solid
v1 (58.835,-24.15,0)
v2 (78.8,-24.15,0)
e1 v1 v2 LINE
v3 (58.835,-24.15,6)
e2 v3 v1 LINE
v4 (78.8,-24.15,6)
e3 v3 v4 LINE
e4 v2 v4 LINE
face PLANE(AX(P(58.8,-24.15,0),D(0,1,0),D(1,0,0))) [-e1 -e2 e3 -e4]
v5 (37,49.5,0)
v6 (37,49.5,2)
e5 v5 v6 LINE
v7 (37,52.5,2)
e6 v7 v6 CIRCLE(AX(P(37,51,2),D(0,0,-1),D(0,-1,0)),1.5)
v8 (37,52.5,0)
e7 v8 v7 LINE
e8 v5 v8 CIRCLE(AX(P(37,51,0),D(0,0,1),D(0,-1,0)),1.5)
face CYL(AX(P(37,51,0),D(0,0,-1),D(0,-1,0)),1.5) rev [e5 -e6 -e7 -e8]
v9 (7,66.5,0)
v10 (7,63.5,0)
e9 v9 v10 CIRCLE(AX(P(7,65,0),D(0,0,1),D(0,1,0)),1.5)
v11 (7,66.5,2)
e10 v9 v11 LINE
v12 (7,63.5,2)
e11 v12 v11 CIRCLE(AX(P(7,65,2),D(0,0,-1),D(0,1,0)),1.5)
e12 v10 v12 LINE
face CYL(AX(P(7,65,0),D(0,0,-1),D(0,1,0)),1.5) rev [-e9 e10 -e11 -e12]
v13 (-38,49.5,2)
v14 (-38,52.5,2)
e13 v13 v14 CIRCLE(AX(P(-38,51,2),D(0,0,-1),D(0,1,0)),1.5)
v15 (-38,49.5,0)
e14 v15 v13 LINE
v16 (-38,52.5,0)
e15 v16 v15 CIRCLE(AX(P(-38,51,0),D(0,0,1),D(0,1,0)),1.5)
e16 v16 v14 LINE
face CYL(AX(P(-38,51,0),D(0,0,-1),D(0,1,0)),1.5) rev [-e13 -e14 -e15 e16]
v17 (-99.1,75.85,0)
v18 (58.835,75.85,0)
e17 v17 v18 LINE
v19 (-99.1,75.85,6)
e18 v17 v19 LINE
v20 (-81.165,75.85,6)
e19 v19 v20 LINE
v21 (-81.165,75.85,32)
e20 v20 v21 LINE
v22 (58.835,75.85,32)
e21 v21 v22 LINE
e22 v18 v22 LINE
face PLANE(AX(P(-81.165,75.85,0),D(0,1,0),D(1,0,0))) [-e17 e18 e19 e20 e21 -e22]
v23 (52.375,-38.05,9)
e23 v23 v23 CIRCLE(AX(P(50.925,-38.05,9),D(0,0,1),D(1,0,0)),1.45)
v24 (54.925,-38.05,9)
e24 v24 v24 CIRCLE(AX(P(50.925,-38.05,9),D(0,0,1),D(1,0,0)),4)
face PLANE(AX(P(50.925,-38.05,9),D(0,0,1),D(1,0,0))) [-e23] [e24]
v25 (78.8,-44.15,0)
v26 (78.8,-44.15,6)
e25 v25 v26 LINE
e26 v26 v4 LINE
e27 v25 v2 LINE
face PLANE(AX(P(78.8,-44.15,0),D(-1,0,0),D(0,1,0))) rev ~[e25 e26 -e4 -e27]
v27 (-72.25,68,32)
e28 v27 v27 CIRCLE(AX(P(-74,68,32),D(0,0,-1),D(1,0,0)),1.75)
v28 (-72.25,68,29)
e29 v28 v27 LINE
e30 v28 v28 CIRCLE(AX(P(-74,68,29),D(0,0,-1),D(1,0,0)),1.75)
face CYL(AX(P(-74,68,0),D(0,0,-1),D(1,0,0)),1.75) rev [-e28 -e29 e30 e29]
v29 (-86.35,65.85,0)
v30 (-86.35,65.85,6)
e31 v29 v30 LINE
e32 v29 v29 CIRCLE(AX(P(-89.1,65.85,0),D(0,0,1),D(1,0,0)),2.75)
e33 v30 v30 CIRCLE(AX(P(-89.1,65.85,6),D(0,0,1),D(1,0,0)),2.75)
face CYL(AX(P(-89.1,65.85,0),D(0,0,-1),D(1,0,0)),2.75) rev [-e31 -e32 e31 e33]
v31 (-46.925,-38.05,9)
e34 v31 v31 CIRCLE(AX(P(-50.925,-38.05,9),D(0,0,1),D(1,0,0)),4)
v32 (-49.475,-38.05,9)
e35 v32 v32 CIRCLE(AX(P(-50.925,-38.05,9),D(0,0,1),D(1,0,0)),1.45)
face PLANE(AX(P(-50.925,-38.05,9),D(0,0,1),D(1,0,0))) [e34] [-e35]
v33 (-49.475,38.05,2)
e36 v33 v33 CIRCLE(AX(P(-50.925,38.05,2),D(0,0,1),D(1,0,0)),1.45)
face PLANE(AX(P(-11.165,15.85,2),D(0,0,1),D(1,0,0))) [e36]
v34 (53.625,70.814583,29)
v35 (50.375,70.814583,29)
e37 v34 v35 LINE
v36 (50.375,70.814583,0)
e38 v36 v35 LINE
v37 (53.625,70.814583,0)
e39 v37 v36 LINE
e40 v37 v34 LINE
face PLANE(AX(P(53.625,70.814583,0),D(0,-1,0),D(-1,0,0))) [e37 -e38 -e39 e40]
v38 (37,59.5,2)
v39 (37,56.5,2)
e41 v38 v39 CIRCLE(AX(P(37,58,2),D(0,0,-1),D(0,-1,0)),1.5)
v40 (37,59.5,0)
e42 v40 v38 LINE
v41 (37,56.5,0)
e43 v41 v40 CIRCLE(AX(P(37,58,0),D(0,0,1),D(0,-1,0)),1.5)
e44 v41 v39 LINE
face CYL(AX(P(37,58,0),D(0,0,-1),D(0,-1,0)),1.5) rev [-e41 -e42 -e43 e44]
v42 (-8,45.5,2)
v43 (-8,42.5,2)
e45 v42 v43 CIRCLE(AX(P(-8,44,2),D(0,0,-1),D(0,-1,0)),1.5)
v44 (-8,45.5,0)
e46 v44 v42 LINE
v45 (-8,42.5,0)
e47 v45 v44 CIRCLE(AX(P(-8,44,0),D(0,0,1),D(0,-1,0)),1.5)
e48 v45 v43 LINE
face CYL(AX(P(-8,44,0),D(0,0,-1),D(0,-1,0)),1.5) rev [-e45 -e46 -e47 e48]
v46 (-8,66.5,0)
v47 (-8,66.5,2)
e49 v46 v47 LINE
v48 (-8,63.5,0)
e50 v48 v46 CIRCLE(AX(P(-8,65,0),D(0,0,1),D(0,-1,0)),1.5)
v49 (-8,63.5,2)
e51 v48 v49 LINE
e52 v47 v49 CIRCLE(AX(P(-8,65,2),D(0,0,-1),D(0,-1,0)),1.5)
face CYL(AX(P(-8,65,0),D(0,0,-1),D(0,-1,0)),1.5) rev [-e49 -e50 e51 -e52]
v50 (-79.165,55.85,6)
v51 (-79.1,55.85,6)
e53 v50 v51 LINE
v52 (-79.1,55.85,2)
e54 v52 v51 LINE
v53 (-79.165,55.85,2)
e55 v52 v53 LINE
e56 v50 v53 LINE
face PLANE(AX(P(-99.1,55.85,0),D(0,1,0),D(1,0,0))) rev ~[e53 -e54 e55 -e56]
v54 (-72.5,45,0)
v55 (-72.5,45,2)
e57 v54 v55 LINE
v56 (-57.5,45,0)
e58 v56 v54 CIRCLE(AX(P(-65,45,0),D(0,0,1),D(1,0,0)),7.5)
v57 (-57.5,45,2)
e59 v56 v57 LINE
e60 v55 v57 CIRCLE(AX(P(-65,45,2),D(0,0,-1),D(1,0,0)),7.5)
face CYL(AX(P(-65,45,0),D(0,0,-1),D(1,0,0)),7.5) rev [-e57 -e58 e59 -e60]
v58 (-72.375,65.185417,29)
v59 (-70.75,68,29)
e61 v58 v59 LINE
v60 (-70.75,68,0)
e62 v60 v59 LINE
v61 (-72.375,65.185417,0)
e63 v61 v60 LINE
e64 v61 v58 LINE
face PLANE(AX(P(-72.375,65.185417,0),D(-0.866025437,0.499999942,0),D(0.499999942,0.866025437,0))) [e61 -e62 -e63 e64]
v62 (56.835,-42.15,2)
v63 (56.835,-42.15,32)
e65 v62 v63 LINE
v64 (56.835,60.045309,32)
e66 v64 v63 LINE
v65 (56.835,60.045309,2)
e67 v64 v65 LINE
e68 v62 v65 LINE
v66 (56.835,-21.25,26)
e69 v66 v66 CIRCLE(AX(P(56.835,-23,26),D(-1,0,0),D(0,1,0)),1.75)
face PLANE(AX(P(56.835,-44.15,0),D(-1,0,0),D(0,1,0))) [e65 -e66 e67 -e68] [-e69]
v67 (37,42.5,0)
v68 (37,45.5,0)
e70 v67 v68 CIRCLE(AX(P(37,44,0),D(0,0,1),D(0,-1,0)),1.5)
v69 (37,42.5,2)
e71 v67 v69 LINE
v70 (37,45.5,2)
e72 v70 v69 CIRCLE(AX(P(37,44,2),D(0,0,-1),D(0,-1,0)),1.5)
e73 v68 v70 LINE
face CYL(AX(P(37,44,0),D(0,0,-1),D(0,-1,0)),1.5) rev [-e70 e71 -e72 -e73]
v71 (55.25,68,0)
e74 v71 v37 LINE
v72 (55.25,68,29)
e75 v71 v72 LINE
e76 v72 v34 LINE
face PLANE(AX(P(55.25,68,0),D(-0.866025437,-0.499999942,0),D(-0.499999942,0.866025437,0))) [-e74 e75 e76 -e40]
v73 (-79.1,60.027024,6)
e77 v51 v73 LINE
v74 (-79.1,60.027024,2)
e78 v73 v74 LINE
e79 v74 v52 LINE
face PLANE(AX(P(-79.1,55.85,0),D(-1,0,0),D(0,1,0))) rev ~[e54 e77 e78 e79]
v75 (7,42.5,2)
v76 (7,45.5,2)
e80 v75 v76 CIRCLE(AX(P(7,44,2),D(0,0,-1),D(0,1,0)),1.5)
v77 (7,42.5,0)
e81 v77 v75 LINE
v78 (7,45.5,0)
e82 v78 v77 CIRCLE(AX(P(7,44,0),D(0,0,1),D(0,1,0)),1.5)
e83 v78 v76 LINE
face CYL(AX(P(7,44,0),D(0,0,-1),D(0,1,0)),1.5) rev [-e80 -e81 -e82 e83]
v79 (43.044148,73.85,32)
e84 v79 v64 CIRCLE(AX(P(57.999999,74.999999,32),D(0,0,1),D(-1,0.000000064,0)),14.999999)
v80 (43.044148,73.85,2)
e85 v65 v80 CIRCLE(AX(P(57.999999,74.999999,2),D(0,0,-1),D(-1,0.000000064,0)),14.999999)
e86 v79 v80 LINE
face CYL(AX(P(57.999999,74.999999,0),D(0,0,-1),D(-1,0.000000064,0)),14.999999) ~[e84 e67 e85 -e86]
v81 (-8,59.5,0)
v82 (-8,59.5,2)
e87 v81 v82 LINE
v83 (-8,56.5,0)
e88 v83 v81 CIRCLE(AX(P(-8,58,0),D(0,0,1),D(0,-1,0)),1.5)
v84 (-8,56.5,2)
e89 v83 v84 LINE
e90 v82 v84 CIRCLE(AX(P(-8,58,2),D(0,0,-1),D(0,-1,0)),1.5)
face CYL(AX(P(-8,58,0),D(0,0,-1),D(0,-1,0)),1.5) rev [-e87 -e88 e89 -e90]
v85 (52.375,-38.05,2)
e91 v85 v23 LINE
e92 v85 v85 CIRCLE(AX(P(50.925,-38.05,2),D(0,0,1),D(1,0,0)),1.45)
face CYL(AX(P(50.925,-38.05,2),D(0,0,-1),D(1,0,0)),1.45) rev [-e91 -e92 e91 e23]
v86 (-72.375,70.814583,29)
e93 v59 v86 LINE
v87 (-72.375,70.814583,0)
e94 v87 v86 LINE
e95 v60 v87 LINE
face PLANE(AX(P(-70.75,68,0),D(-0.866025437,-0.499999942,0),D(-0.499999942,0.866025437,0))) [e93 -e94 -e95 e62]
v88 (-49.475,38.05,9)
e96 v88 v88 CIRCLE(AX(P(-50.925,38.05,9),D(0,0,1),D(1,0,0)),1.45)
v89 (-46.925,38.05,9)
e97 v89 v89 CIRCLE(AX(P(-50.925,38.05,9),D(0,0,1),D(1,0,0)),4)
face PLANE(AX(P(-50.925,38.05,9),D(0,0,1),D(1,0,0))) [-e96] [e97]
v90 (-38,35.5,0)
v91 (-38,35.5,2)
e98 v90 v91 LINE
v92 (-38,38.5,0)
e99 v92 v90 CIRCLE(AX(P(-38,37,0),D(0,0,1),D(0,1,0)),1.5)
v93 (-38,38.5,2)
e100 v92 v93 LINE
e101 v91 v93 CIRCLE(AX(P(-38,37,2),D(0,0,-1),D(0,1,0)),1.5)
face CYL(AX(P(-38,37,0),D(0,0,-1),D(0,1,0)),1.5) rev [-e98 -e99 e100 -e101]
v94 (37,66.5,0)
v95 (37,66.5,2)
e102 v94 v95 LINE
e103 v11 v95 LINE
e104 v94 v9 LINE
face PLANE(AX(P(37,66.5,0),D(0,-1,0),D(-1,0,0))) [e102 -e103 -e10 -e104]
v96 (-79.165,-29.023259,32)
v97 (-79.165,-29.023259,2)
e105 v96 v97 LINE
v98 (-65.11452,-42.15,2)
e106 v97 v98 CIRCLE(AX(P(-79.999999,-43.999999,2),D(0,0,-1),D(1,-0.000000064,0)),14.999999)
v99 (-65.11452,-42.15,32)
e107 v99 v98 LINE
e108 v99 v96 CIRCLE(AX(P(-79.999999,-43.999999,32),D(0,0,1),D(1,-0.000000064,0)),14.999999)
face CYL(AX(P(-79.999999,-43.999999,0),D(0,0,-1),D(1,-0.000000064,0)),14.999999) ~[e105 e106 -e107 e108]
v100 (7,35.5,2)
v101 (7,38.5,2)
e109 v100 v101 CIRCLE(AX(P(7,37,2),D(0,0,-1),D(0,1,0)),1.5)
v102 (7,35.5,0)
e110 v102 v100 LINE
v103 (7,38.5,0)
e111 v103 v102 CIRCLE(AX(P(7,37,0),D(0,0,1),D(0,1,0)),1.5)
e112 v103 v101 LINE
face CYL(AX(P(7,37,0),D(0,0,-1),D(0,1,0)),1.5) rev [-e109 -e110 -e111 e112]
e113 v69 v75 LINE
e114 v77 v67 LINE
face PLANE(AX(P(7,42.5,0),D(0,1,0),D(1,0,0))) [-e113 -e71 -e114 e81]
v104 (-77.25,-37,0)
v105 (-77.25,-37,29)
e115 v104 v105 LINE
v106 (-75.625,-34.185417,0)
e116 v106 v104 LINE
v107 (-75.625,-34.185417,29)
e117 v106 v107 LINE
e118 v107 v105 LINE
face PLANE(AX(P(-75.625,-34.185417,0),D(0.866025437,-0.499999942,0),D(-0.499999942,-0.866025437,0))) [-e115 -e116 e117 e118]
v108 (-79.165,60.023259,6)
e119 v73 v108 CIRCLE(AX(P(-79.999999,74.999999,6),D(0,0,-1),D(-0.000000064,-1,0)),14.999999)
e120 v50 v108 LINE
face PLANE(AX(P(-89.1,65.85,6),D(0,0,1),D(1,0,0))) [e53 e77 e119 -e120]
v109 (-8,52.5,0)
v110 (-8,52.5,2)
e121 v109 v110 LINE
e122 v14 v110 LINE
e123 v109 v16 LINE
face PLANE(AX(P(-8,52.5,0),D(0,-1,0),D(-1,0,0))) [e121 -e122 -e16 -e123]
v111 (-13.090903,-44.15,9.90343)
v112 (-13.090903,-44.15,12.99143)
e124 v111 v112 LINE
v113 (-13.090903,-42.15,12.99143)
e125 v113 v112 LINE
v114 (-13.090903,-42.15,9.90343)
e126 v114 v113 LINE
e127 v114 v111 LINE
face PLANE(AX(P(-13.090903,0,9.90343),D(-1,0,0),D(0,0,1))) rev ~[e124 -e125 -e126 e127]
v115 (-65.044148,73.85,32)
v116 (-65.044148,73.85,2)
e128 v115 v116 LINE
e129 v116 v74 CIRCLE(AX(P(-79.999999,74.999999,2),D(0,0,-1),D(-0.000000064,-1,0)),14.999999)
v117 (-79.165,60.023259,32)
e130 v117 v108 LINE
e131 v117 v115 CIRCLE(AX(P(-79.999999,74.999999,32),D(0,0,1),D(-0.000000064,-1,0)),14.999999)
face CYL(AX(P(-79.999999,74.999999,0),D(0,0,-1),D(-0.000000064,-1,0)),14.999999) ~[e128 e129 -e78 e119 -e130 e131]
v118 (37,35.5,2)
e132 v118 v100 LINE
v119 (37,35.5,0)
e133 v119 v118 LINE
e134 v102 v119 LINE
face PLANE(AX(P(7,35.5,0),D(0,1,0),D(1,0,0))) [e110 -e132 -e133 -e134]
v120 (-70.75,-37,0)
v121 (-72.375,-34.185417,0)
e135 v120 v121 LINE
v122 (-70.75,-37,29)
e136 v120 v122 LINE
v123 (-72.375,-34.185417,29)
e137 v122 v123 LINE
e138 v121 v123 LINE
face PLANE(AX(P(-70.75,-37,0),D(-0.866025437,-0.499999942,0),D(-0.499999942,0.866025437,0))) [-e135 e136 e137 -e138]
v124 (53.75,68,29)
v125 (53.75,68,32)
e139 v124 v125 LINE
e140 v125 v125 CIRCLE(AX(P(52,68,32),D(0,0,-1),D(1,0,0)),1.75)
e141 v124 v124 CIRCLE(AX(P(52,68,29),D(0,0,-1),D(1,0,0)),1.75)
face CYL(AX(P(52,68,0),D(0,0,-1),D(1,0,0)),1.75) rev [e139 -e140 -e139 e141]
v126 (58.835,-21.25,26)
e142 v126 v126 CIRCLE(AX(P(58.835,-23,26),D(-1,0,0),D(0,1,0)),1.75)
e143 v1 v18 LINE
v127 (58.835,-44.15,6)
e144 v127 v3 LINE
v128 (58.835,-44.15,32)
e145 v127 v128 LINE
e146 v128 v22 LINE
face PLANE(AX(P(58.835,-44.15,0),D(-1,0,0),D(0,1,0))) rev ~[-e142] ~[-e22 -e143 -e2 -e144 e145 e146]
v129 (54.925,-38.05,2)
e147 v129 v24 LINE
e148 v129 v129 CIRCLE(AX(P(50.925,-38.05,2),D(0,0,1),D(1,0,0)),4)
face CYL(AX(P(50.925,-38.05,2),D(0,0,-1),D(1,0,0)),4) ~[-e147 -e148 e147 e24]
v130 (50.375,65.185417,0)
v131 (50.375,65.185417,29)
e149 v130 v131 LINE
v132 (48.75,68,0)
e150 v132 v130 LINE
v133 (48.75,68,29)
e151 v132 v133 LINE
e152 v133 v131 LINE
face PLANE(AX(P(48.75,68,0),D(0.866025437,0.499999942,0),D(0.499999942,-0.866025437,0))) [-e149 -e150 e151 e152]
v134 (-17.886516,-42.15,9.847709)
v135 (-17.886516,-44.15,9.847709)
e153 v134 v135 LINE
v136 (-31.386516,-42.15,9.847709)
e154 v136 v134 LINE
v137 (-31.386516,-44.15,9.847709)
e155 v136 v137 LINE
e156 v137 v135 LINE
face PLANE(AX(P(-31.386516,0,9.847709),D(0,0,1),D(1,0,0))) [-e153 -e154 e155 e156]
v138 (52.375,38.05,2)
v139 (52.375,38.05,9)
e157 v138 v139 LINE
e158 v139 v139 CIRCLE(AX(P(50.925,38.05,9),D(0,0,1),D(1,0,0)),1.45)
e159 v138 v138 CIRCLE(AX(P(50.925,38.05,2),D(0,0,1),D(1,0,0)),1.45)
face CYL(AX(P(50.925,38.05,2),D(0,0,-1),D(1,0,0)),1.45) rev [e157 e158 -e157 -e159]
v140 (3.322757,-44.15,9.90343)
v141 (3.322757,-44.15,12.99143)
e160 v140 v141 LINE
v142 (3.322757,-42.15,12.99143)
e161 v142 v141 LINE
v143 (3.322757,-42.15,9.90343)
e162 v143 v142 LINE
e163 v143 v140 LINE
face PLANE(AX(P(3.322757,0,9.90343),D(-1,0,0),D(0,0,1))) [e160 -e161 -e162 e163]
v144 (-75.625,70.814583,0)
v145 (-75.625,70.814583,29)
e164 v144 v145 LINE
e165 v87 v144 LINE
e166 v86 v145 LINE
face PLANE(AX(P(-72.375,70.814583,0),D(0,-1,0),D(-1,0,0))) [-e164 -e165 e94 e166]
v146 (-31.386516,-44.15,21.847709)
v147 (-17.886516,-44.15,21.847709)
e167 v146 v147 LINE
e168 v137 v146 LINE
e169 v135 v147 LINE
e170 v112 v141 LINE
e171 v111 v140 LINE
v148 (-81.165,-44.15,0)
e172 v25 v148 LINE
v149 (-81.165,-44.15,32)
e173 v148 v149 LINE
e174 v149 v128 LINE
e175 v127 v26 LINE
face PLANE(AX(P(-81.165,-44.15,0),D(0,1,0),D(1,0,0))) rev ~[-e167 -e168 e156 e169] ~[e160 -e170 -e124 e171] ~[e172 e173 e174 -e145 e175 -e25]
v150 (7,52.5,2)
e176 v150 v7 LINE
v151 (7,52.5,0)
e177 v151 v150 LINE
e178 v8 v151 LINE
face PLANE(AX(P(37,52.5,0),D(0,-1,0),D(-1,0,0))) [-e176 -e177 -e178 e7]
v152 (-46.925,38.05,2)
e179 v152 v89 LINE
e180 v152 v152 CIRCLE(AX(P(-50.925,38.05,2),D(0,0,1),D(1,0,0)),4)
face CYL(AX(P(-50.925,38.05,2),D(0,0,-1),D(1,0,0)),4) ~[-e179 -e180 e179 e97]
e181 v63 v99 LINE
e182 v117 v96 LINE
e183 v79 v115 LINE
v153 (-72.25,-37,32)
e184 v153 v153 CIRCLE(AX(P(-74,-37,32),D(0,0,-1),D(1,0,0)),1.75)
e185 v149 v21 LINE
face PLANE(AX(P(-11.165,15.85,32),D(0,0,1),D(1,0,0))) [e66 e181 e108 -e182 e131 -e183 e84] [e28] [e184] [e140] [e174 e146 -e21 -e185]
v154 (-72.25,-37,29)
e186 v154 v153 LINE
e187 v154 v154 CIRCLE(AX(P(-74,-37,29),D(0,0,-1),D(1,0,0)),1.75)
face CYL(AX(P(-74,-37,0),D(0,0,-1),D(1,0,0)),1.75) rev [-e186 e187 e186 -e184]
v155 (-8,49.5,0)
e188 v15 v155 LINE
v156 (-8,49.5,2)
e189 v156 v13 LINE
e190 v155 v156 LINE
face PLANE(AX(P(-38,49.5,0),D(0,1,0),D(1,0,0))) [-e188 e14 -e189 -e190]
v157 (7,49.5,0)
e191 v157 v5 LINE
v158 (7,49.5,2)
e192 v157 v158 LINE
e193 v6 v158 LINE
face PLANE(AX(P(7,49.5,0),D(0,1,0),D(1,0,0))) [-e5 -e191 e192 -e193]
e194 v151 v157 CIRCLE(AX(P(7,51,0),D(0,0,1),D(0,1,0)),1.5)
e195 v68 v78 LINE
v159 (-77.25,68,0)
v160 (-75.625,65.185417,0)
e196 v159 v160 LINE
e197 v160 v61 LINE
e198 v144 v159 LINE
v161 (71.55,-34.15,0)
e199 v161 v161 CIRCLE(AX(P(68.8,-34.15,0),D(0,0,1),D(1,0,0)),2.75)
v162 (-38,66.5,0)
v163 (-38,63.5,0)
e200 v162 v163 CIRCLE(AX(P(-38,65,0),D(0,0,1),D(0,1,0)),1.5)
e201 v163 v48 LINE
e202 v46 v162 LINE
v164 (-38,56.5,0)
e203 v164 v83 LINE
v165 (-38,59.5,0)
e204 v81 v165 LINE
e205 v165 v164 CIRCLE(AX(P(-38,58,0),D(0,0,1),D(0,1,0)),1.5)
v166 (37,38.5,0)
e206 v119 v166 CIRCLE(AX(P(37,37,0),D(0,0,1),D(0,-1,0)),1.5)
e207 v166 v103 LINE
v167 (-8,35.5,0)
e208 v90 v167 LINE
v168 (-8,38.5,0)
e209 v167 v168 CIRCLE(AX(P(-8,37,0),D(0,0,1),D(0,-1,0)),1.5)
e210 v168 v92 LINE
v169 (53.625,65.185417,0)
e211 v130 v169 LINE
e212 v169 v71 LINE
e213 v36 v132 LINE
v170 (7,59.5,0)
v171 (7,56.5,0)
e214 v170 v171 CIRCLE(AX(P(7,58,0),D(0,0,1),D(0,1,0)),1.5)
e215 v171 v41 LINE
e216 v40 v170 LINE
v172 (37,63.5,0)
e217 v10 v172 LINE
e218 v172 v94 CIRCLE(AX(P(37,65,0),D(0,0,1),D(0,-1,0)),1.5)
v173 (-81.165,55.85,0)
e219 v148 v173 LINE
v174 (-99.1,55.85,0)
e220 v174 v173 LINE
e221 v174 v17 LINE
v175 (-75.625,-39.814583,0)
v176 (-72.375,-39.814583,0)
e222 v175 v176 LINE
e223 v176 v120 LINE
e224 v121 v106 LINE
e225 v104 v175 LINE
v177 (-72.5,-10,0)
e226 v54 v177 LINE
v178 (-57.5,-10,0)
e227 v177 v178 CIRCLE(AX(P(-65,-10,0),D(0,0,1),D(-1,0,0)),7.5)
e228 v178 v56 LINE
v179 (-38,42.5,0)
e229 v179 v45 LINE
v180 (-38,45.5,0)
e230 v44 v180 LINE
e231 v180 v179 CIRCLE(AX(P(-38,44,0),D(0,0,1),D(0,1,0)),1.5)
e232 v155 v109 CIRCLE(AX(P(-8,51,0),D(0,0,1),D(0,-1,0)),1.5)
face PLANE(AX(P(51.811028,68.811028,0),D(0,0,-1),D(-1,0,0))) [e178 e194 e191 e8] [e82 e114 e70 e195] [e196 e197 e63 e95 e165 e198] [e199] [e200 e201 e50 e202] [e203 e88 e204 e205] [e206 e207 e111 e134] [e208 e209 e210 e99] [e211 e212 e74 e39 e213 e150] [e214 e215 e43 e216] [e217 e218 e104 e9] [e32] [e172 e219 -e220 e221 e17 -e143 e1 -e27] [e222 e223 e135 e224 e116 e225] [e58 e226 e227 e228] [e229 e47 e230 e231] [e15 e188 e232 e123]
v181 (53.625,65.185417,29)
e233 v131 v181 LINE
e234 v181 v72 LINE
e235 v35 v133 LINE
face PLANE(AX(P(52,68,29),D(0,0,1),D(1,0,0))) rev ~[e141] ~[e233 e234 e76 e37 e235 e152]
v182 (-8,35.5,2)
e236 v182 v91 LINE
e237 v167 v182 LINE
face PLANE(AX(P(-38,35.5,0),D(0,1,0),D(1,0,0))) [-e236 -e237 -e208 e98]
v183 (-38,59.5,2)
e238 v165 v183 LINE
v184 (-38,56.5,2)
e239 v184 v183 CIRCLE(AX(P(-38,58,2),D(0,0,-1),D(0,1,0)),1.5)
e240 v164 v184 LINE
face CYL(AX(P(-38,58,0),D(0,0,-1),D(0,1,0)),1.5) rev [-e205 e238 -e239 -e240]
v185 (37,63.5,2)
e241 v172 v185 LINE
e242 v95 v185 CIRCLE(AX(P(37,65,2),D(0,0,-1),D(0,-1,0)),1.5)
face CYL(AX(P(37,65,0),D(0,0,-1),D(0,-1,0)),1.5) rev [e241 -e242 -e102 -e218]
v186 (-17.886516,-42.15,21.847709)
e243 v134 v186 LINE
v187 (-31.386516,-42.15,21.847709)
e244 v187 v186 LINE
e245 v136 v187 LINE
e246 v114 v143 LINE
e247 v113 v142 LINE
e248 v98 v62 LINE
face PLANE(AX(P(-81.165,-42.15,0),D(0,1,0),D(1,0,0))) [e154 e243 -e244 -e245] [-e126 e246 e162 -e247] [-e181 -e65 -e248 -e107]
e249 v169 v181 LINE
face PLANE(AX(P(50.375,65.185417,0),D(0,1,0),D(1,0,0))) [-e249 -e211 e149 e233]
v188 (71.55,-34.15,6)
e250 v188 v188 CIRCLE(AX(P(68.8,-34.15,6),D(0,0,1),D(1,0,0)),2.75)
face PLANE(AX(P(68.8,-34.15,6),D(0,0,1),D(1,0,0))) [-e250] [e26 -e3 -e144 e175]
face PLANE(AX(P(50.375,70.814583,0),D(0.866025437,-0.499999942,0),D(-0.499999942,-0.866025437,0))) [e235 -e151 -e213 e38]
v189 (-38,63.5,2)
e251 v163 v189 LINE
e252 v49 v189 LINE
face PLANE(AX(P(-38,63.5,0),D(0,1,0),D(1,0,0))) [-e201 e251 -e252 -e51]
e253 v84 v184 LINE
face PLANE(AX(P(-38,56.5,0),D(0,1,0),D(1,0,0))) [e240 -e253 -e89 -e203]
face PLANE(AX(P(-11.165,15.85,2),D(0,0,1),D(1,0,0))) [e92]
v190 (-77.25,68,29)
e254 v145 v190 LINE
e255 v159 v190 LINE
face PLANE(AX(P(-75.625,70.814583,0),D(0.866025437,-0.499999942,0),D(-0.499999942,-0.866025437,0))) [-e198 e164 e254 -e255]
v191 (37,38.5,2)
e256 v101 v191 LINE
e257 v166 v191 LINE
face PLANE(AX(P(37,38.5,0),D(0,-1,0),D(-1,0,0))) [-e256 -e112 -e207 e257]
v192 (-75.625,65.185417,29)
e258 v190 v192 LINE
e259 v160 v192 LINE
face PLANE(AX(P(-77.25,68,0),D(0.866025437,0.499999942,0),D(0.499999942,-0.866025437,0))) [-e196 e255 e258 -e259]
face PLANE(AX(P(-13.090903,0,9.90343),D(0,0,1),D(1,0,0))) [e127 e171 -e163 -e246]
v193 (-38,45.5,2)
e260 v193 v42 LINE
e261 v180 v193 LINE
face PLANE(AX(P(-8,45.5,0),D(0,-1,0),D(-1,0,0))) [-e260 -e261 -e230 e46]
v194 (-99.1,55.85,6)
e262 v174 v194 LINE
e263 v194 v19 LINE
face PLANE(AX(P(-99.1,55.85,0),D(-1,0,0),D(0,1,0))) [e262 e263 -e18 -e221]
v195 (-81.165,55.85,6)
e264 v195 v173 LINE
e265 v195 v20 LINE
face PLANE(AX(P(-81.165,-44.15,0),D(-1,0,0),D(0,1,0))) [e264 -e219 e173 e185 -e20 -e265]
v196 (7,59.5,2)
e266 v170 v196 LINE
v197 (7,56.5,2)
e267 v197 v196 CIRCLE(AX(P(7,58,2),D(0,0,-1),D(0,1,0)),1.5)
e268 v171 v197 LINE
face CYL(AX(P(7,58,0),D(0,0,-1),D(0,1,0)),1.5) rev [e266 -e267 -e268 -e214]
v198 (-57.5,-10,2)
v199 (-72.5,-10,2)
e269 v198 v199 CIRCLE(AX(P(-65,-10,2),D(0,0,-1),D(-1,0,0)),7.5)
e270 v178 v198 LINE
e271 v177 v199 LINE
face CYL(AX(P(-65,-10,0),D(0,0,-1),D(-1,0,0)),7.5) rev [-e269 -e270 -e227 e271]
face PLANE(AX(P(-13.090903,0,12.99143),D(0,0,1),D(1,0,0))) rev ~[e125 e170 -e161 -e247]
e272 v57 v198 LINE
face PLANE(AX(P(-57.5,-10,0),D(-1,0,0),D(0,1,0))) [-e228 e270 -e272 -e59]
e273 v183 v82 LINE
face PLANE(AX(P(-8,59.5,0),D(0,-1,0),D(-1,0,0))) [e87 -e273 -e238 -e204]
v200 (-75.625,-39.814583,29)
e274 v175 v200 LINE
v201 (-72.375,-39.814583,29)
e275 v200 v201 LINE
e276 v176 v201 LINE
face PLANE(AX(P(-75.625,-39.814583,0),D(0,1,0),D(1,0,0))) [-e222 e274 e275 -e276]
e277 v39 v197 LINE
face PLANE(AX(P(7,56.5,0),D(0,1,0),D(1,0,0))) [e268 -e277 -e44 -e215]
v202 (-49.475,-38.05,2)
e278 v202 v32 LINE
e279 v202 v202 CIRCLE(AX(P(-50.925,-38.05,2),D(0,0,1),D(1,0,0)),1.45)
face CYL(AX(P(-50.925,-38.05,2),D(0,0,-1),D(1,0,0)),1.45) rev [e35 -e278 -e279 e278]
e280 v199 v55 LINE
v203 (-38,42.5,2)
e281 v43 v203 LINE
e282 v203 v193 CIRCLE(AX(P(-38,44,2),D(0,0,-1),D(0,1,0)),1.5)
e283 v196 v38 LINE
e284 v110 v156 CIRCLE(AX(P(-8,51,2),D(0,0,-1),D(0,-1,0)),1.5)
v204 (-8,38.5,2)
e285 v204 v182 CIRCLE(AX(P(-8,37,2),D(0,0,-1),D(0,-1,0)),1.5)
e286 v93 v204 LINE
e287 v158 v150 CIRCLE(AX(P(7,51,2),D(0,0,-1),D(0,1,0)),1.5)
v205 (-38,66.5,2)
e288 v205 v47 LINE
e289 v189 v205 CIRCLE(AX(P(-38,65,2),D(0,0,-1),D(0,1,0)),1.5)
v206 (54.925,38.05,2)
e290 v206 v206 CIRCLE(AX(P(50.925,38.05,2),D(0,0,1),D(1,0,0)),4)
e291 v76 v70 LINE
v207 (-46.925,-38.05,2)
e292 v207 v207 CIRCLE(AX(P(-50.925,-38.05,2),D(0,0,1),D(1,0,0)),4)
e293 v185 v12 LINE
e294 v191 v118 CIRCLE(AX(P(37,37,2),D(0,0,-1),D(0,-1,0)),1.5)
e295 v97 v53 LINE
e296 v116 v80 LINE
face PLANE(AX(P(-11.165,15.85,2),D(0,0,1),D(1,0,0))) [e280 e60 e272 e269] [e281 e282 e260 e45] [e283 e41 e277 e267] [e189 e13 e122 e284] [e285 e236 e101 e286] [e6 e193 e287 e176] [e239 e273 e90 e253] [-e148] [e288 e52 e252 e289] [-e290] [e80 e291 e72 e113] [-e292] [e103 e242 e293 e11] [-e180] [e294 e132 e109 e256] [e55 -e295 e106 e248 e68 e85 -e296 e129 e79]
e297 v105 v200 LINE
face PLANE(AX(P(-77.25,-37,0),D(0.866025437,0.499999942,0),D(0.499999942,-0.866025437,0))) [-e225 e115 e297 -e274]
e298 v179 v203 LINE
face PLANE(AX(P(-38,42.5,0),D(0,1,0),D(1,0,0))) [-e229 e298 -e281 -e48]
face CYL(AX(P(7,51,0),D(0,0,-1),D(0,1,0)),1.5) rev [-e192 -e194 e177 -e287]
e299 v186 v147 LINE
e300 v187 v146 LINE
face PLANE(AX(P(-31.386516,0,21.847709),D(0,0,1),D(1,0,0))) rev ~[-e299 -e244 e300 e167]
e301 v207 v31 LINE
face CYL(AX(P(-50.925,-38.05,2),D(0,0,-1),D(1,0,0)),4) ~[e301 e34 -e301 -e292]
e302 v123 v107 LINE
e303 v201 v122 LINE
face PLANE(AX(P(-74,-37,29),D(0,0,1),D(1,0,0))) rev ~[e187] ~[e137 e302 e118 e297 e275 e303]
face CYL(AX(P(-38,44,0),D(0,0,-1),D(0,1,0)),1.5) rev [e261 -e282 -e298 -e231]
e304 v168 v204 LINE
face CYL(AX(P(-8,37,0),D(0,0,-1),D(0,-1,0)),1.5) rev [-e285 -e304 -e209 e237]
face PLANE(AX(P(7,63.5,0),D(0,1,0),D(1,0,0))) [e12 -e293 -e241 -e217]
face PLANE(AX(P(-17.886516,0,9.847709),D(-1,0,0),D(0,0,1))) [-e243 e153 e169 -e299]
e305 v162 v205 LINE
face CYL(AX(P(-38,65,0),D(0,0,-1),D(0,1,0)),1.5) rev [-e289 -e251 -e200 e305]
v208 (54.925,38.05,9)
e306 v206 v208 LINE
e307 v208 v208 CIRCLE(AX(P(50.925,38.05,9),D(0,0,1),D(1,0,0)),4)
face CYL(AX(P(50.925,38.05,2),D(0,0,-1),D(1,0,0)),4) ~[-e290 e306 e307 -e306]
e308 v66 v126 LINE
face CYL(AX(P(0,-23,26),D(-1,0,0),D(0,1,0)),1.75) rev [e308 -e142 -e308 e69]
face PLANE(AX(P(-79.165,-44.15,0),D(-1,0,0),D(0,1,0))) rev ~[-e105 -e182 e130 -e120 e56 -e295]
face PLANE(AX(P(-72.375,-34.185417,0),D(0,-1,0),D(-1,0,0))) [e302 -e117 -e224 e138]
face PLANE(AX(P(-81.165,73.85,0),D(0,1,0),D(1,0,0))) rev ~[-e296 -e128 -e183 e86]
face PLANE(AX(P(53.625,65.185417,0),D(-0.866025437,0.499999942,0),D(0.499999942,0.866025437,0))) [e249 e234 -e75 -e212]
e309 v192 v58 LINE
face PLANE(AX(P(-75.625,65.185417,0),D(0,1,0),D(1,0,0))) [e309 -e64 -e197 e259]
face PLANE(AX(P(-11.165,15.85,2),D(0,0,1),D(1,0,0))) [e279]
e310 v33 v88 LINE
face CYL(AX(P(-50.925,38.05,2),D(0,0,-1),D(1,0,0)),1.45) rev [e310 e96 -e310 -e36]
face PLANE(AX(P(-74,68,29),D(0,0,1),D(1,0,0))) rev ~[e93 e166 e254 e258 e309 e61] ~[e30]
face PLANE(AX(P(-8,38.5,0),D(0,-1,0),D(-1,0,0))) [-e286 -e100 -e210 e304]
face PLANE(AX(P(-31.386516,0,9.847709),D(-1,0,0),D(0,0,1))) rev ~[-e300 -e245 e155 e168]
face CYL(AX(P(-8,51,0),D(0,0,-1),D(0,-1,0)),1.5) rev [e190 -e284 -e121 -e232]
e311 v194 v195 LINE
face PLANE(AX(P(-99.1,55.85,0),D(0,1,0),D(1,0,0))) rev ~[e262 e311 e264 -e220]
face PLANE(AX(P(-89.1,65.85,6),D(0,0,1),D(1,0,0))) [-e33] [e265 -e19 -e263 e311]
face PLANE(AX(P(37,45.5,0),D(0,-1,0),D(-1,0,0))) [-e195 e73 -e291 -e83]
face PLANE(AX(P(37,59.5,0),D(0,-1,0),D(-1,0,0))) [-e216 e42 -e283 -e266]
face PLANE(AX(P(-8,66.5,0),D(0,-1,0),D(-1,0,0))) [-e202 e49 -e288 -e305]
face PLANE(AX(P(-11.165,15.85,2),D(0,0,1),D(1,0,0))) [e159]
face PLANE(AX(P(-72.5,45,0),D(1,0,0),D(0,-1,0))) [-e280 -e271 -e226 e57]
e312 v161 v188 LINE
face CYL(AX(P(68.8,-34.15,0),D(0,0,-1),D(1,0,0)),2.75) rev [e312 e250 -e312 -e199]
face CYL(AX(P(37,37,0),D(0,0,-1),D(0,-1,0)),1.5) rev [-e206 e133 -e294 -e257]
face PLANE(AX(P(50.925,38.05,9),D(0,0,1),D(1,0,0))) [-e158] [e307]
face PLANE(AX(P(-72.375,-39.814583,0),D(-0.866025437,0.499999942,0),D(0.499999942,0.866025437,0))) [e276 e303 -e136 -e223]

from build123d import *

# Parameters (mm, degrees)
SKETCH_W        = 140
SKETCH_H        = 120
PAD_DEPTH       = 32
THICKNESS_T     = -2
SKETCH001_R     = 4
SKETCH001_R_2   = 1.45
PAD001_DEPTH    = 7
SKETCH002_W     = 16.413659
SKETCH002_H     = 3.088
SKETCH002_W_2   = 13.5
SKETCH002_H_2   = 12
POCKET_DEPTH    = 44.151
PAD002_DEPTH    = 32
SKETCH004_R     = 1.75
POCKET001_DEPTH = 58.836
SKETCH005_R     = 1.75
POCKET002_DEPTH = 32.001001
SKETCH006_W     = 20
SKETCH006_H     = 20
SKETCH006_R     = 2.75
PAD003_DEPTH    = 6
POCKET003_DEPTH = 29
POCKET004_DEPTH = 32.001001


with BuildPart() as part:
    # Sketch → Pad (new body)
    with BuildSketch(Plane.XY):
        with Locations((-11.165, 15.85)):
            Rectangle(SKETCH_W, SKETCH_H)
    extrude(amount=PAD_DEPTH)

    # Thickness
    thickness_openings = [part.faces().sort_by_distance(p)[0] for p in [
        (-11.165, 15.85, 32),
    ]]
    offset(amount=THICKNESS_T, openings=thickness_openings, kind=Kind.INTERSECTION)

    # Sketch001 (on DatumPlane) → Pad001 (join)
    with BuildSketch(Plane.XY.offset(2)):
        with Locations((-50.925, 38.05)):
            Circle(SKETCH001_R)
        with Locations((-50.925, 38.05)):
            Circle(SKETCH001_R_2, mode=Mode.SUBTRACT)
        with Locations((50.925, 38.05)):
            Circle(SKETCH001_R)
        with Locations((50.925, 38.05)):
            Circle(SKETCH001_R_2, mode=Mode.SUBTRACT)
        with Locations((-50.925, -38.05)):
            Circle(SKETCH001_R)
        with Locations((-50.925, -38.05)):
            Circle(SKETCH001_R_2, mode=Mode.SUBTRACT)
        with Locations((50.925, -38.05)):
            Circle(SKETCH001_R)
        with Locations((50.925, -38.05)):
            Circle(SKETCH001_R_2, mode=Mode.SUBTRACT)
    extrude(amount=PAD001_DEPTH)

    # Sketch002 → Pocket (cut, through all)
    with BuildSketch(Plane.XZ):
        with Locations((-4.884073, 11.44743)):
            Rectangle(SKETCH002_W, SKETCH002_H)
        with Locations((-24.636516, 15.847709)):
            Rectangle(SKETCH002_W_2, SKETCH002_H_2)
    extrude(amount=POCKET_DEPTH, mode=Mode.SUBTRACT)

    # Sketch003 → Pad002 (join)
    with BuildSketch(Plane.XY):
        with BuildLine():
            Line((43, 75), (58, 75))
            Line((58, 75), (58, 60))
            ThreePointArc((43, 75), (47.393398, 64.393398), (58, 60))
        make_face()
        with BuildLine():
            Line((-80, 75), (-65, 75))
            ThreePointArc((-80, 60), (-69.393398, 64.393398), (-65, 75))
            Line((-80, 75), (-80, 60))
        make_face()
        with BuildLine():
            Line((-80, -29), (-80, -44))
            Line((-80, -44), (-65, -44))
            ThreePointArc((-65, -44), (-69.393398, -33.393398), (-80, -29))
        make_face()
    extrude(amount=PAD002_DEPTH)

    # Sketch004 → Pocket001 (cut, through all)
    with BuildSketch(Plane.YZ):
        with Locations((-23, 26)):
            Circle(SKETCH004_R)
    extrude(amount=POCKET001_DEPTH, mode=Mode.SUBTRACT)

    # Sketch005 → Pocket002 (cut, through all)
    with BuildSketch(Plane.XY):
        with Locations((-74, 68)):
            Circle(SKETCH005_R)
        with Locations((52, 68)):
            Circle(SKETCH005_R)
        with Locations((-74, -37)):
            Circle(SKETCH005_R)
    extrude(amount=POCKET002_DEPTH, mode=Mode.SUBTRACT)

    # Sketch006 → Pad003 (join)
    with BuildSketch(Plane.XY):
        with Locations((68.8, -34.15)):
            Rectangle(SKETCH006_W, SKETCH006_H)
        with Locations((68.8, -34.15)):
            Circle(SKETCH006_R, mode=Mode.SUBTRACT)
        with Locations((-89.1, 65.85)):
            Rectangle(SKETCH006_W, SKETCH006_H)
        with Locations((-89.1, 65.85)):
            Circle(SKETCH006_R, mode=Mode.SUBTRACT)
    extrude(amount=PAD003_DEPTH)

    # Sketch007 → Pocket003 (cut)
    with BuildSketch(Plane.XY):
        Polygon((-70.75, 68), (-72.375, 70.814583), (-75.625, 70.814583), (-77.25, 68), (-75.625, 65.185417), (-72.375, 65.185417), align=None)
        Polygon((55.25, 68), (53.625, 70.814583), (50.375, 70.814583), (48.75, 68), (50.375, 65.185417), (53.625, 65.185417), align=None)
        Polygon((-70.75, -37), (-72.375, -34.185417), (-75.625, -34.185417), (-77.25, -37), (-75.625, -39.814583), (-72.375, -39.814583), align=None)
    extrude(amount=POCKET003_DEPTH, mode=Mode.SUBTRACT)

    # Sketch008 → Pocket004 (cut, through all)
    with BuildSketch(Plane.XY):
        with BuildLine():
            ThreePointArc((-57.5, 45), (-65, 52.5), (-72.5, 45))
            Line((-72.5, 45), (-72.5, -10))
            ThreePointArc((-72.5, -10), (-65, -17.5), (-57.5, -10))
            Line((-57.5, -10), (-57.5, 45))
        make_face()
        with BuildLine():
            ThreePointArc((7, 66.5), (5.5, 65), (7, 63.5))
            Line((7, 63.5), (37, 63.5))
            ThreePointArc((37, 63.5), (38.5, 65), (37, 66.5))
            Line((37, 66.5), (7, 66.5))
        make_face()
        with BuildLine():
            ThreePointArc((-38, 66.5), (-39.5, 65), (-38, 63.5))
            Line((-38, 63.5), (-8, 63.5))
            ThreePointArc((-8, 63.5), (-6.5, 65), (-8, 66.5))
            Line((-8, 66.5), (-38, 66.5))
        make_face()
        with BuildLine():
            ThreePointArc((-38, 59.5), (-39.5, 58), (-38, 56.5))
            Line((-38, 56.5), (-8, 56.5))
            ThreePointArc((-8, 56.5), (-6.5, 58), (-8, 59.5))
            Line((-8, 59.5), (-38, 59.5))
        make_face()
        with BuildLine():
            ThreePointArc((7, 59.5), (5.5, 58), (7, 56.5))
            Line((7, 56.5), (37, 56.5))
            ThreePointArc((37, 56.5), (38.5, 58), (37, 59.5))
            Line((37, 59.5), (7, 59.5))
        make_face()
        with BuildLine():
            ThreePointArc((-38, 52.5), (-39.5, 51), (-38, 49.5))
            Line((-38, 49.5), (-8, 49.5))
            ThreePointArc((-8, 49.5), (-6.5, 51), (-8, 52.5))
            Line((-8, 52.5), (-38, 52.5))
        make_face()
        with BuildLine():
            ThreePointArc((7, 52.5), (5.5, 51), (7, 49.5))
            Line((7, 49.5), (37, 49.5))
            ThreePointArc((37, 49.5), (38.5, 51), (37, 52.5))
            Line((37, 52.5), (7, 52.5))
        make_face()
        with BuildLine():
            ThreePointArc((-38, 45.5), (-39.5, 44), (-38, 42.5))
            Line((-38, 42.5), (-8, 42.5))
            ThreePointArc((-8, 42.5), (-6.5, 44), (-8, 45.5))
            Line((-8, 45.5), (-38, 45.5))
        make_face()
        with BuildLine():
            ThreePointArc((7, 45.5), (5.5, 44), (7, 42.5))
            Line((7, 42.5), (37, 42.5))
            ThreePointArc((37, 42.5), (38.5, 44), (37, 45.5))
            Line((37, 45.5), (7, 45.5))
        make_face()
        with BuildLine():
            ThreePointArc((-38, 38.5), (-39.5, 37), (-38, 35.5))
            Line((-38, 35.5), (-8, 35.5))
            ThreePointArc((-8, 35.5), (-6.5, 37), (-8, 38.5))
            Line((-8, 38.5), (-38, 38.5))
        make_face()
        with BuildLine():
            ThreePointArc((7, 38.5), (5.5, 37), (7, 35.5))
            Line((7, 35.5), (37, 35.5))
            ThreePointArc((37, 35.5), (38.5, 37), (37, 38.5))
            Line((37, 38.5), (7, 38.5))
        make_face()
    extrude(amount=POCKET004_DEPTH, mode=Mode.SUBTRACT)


solid = part.part
